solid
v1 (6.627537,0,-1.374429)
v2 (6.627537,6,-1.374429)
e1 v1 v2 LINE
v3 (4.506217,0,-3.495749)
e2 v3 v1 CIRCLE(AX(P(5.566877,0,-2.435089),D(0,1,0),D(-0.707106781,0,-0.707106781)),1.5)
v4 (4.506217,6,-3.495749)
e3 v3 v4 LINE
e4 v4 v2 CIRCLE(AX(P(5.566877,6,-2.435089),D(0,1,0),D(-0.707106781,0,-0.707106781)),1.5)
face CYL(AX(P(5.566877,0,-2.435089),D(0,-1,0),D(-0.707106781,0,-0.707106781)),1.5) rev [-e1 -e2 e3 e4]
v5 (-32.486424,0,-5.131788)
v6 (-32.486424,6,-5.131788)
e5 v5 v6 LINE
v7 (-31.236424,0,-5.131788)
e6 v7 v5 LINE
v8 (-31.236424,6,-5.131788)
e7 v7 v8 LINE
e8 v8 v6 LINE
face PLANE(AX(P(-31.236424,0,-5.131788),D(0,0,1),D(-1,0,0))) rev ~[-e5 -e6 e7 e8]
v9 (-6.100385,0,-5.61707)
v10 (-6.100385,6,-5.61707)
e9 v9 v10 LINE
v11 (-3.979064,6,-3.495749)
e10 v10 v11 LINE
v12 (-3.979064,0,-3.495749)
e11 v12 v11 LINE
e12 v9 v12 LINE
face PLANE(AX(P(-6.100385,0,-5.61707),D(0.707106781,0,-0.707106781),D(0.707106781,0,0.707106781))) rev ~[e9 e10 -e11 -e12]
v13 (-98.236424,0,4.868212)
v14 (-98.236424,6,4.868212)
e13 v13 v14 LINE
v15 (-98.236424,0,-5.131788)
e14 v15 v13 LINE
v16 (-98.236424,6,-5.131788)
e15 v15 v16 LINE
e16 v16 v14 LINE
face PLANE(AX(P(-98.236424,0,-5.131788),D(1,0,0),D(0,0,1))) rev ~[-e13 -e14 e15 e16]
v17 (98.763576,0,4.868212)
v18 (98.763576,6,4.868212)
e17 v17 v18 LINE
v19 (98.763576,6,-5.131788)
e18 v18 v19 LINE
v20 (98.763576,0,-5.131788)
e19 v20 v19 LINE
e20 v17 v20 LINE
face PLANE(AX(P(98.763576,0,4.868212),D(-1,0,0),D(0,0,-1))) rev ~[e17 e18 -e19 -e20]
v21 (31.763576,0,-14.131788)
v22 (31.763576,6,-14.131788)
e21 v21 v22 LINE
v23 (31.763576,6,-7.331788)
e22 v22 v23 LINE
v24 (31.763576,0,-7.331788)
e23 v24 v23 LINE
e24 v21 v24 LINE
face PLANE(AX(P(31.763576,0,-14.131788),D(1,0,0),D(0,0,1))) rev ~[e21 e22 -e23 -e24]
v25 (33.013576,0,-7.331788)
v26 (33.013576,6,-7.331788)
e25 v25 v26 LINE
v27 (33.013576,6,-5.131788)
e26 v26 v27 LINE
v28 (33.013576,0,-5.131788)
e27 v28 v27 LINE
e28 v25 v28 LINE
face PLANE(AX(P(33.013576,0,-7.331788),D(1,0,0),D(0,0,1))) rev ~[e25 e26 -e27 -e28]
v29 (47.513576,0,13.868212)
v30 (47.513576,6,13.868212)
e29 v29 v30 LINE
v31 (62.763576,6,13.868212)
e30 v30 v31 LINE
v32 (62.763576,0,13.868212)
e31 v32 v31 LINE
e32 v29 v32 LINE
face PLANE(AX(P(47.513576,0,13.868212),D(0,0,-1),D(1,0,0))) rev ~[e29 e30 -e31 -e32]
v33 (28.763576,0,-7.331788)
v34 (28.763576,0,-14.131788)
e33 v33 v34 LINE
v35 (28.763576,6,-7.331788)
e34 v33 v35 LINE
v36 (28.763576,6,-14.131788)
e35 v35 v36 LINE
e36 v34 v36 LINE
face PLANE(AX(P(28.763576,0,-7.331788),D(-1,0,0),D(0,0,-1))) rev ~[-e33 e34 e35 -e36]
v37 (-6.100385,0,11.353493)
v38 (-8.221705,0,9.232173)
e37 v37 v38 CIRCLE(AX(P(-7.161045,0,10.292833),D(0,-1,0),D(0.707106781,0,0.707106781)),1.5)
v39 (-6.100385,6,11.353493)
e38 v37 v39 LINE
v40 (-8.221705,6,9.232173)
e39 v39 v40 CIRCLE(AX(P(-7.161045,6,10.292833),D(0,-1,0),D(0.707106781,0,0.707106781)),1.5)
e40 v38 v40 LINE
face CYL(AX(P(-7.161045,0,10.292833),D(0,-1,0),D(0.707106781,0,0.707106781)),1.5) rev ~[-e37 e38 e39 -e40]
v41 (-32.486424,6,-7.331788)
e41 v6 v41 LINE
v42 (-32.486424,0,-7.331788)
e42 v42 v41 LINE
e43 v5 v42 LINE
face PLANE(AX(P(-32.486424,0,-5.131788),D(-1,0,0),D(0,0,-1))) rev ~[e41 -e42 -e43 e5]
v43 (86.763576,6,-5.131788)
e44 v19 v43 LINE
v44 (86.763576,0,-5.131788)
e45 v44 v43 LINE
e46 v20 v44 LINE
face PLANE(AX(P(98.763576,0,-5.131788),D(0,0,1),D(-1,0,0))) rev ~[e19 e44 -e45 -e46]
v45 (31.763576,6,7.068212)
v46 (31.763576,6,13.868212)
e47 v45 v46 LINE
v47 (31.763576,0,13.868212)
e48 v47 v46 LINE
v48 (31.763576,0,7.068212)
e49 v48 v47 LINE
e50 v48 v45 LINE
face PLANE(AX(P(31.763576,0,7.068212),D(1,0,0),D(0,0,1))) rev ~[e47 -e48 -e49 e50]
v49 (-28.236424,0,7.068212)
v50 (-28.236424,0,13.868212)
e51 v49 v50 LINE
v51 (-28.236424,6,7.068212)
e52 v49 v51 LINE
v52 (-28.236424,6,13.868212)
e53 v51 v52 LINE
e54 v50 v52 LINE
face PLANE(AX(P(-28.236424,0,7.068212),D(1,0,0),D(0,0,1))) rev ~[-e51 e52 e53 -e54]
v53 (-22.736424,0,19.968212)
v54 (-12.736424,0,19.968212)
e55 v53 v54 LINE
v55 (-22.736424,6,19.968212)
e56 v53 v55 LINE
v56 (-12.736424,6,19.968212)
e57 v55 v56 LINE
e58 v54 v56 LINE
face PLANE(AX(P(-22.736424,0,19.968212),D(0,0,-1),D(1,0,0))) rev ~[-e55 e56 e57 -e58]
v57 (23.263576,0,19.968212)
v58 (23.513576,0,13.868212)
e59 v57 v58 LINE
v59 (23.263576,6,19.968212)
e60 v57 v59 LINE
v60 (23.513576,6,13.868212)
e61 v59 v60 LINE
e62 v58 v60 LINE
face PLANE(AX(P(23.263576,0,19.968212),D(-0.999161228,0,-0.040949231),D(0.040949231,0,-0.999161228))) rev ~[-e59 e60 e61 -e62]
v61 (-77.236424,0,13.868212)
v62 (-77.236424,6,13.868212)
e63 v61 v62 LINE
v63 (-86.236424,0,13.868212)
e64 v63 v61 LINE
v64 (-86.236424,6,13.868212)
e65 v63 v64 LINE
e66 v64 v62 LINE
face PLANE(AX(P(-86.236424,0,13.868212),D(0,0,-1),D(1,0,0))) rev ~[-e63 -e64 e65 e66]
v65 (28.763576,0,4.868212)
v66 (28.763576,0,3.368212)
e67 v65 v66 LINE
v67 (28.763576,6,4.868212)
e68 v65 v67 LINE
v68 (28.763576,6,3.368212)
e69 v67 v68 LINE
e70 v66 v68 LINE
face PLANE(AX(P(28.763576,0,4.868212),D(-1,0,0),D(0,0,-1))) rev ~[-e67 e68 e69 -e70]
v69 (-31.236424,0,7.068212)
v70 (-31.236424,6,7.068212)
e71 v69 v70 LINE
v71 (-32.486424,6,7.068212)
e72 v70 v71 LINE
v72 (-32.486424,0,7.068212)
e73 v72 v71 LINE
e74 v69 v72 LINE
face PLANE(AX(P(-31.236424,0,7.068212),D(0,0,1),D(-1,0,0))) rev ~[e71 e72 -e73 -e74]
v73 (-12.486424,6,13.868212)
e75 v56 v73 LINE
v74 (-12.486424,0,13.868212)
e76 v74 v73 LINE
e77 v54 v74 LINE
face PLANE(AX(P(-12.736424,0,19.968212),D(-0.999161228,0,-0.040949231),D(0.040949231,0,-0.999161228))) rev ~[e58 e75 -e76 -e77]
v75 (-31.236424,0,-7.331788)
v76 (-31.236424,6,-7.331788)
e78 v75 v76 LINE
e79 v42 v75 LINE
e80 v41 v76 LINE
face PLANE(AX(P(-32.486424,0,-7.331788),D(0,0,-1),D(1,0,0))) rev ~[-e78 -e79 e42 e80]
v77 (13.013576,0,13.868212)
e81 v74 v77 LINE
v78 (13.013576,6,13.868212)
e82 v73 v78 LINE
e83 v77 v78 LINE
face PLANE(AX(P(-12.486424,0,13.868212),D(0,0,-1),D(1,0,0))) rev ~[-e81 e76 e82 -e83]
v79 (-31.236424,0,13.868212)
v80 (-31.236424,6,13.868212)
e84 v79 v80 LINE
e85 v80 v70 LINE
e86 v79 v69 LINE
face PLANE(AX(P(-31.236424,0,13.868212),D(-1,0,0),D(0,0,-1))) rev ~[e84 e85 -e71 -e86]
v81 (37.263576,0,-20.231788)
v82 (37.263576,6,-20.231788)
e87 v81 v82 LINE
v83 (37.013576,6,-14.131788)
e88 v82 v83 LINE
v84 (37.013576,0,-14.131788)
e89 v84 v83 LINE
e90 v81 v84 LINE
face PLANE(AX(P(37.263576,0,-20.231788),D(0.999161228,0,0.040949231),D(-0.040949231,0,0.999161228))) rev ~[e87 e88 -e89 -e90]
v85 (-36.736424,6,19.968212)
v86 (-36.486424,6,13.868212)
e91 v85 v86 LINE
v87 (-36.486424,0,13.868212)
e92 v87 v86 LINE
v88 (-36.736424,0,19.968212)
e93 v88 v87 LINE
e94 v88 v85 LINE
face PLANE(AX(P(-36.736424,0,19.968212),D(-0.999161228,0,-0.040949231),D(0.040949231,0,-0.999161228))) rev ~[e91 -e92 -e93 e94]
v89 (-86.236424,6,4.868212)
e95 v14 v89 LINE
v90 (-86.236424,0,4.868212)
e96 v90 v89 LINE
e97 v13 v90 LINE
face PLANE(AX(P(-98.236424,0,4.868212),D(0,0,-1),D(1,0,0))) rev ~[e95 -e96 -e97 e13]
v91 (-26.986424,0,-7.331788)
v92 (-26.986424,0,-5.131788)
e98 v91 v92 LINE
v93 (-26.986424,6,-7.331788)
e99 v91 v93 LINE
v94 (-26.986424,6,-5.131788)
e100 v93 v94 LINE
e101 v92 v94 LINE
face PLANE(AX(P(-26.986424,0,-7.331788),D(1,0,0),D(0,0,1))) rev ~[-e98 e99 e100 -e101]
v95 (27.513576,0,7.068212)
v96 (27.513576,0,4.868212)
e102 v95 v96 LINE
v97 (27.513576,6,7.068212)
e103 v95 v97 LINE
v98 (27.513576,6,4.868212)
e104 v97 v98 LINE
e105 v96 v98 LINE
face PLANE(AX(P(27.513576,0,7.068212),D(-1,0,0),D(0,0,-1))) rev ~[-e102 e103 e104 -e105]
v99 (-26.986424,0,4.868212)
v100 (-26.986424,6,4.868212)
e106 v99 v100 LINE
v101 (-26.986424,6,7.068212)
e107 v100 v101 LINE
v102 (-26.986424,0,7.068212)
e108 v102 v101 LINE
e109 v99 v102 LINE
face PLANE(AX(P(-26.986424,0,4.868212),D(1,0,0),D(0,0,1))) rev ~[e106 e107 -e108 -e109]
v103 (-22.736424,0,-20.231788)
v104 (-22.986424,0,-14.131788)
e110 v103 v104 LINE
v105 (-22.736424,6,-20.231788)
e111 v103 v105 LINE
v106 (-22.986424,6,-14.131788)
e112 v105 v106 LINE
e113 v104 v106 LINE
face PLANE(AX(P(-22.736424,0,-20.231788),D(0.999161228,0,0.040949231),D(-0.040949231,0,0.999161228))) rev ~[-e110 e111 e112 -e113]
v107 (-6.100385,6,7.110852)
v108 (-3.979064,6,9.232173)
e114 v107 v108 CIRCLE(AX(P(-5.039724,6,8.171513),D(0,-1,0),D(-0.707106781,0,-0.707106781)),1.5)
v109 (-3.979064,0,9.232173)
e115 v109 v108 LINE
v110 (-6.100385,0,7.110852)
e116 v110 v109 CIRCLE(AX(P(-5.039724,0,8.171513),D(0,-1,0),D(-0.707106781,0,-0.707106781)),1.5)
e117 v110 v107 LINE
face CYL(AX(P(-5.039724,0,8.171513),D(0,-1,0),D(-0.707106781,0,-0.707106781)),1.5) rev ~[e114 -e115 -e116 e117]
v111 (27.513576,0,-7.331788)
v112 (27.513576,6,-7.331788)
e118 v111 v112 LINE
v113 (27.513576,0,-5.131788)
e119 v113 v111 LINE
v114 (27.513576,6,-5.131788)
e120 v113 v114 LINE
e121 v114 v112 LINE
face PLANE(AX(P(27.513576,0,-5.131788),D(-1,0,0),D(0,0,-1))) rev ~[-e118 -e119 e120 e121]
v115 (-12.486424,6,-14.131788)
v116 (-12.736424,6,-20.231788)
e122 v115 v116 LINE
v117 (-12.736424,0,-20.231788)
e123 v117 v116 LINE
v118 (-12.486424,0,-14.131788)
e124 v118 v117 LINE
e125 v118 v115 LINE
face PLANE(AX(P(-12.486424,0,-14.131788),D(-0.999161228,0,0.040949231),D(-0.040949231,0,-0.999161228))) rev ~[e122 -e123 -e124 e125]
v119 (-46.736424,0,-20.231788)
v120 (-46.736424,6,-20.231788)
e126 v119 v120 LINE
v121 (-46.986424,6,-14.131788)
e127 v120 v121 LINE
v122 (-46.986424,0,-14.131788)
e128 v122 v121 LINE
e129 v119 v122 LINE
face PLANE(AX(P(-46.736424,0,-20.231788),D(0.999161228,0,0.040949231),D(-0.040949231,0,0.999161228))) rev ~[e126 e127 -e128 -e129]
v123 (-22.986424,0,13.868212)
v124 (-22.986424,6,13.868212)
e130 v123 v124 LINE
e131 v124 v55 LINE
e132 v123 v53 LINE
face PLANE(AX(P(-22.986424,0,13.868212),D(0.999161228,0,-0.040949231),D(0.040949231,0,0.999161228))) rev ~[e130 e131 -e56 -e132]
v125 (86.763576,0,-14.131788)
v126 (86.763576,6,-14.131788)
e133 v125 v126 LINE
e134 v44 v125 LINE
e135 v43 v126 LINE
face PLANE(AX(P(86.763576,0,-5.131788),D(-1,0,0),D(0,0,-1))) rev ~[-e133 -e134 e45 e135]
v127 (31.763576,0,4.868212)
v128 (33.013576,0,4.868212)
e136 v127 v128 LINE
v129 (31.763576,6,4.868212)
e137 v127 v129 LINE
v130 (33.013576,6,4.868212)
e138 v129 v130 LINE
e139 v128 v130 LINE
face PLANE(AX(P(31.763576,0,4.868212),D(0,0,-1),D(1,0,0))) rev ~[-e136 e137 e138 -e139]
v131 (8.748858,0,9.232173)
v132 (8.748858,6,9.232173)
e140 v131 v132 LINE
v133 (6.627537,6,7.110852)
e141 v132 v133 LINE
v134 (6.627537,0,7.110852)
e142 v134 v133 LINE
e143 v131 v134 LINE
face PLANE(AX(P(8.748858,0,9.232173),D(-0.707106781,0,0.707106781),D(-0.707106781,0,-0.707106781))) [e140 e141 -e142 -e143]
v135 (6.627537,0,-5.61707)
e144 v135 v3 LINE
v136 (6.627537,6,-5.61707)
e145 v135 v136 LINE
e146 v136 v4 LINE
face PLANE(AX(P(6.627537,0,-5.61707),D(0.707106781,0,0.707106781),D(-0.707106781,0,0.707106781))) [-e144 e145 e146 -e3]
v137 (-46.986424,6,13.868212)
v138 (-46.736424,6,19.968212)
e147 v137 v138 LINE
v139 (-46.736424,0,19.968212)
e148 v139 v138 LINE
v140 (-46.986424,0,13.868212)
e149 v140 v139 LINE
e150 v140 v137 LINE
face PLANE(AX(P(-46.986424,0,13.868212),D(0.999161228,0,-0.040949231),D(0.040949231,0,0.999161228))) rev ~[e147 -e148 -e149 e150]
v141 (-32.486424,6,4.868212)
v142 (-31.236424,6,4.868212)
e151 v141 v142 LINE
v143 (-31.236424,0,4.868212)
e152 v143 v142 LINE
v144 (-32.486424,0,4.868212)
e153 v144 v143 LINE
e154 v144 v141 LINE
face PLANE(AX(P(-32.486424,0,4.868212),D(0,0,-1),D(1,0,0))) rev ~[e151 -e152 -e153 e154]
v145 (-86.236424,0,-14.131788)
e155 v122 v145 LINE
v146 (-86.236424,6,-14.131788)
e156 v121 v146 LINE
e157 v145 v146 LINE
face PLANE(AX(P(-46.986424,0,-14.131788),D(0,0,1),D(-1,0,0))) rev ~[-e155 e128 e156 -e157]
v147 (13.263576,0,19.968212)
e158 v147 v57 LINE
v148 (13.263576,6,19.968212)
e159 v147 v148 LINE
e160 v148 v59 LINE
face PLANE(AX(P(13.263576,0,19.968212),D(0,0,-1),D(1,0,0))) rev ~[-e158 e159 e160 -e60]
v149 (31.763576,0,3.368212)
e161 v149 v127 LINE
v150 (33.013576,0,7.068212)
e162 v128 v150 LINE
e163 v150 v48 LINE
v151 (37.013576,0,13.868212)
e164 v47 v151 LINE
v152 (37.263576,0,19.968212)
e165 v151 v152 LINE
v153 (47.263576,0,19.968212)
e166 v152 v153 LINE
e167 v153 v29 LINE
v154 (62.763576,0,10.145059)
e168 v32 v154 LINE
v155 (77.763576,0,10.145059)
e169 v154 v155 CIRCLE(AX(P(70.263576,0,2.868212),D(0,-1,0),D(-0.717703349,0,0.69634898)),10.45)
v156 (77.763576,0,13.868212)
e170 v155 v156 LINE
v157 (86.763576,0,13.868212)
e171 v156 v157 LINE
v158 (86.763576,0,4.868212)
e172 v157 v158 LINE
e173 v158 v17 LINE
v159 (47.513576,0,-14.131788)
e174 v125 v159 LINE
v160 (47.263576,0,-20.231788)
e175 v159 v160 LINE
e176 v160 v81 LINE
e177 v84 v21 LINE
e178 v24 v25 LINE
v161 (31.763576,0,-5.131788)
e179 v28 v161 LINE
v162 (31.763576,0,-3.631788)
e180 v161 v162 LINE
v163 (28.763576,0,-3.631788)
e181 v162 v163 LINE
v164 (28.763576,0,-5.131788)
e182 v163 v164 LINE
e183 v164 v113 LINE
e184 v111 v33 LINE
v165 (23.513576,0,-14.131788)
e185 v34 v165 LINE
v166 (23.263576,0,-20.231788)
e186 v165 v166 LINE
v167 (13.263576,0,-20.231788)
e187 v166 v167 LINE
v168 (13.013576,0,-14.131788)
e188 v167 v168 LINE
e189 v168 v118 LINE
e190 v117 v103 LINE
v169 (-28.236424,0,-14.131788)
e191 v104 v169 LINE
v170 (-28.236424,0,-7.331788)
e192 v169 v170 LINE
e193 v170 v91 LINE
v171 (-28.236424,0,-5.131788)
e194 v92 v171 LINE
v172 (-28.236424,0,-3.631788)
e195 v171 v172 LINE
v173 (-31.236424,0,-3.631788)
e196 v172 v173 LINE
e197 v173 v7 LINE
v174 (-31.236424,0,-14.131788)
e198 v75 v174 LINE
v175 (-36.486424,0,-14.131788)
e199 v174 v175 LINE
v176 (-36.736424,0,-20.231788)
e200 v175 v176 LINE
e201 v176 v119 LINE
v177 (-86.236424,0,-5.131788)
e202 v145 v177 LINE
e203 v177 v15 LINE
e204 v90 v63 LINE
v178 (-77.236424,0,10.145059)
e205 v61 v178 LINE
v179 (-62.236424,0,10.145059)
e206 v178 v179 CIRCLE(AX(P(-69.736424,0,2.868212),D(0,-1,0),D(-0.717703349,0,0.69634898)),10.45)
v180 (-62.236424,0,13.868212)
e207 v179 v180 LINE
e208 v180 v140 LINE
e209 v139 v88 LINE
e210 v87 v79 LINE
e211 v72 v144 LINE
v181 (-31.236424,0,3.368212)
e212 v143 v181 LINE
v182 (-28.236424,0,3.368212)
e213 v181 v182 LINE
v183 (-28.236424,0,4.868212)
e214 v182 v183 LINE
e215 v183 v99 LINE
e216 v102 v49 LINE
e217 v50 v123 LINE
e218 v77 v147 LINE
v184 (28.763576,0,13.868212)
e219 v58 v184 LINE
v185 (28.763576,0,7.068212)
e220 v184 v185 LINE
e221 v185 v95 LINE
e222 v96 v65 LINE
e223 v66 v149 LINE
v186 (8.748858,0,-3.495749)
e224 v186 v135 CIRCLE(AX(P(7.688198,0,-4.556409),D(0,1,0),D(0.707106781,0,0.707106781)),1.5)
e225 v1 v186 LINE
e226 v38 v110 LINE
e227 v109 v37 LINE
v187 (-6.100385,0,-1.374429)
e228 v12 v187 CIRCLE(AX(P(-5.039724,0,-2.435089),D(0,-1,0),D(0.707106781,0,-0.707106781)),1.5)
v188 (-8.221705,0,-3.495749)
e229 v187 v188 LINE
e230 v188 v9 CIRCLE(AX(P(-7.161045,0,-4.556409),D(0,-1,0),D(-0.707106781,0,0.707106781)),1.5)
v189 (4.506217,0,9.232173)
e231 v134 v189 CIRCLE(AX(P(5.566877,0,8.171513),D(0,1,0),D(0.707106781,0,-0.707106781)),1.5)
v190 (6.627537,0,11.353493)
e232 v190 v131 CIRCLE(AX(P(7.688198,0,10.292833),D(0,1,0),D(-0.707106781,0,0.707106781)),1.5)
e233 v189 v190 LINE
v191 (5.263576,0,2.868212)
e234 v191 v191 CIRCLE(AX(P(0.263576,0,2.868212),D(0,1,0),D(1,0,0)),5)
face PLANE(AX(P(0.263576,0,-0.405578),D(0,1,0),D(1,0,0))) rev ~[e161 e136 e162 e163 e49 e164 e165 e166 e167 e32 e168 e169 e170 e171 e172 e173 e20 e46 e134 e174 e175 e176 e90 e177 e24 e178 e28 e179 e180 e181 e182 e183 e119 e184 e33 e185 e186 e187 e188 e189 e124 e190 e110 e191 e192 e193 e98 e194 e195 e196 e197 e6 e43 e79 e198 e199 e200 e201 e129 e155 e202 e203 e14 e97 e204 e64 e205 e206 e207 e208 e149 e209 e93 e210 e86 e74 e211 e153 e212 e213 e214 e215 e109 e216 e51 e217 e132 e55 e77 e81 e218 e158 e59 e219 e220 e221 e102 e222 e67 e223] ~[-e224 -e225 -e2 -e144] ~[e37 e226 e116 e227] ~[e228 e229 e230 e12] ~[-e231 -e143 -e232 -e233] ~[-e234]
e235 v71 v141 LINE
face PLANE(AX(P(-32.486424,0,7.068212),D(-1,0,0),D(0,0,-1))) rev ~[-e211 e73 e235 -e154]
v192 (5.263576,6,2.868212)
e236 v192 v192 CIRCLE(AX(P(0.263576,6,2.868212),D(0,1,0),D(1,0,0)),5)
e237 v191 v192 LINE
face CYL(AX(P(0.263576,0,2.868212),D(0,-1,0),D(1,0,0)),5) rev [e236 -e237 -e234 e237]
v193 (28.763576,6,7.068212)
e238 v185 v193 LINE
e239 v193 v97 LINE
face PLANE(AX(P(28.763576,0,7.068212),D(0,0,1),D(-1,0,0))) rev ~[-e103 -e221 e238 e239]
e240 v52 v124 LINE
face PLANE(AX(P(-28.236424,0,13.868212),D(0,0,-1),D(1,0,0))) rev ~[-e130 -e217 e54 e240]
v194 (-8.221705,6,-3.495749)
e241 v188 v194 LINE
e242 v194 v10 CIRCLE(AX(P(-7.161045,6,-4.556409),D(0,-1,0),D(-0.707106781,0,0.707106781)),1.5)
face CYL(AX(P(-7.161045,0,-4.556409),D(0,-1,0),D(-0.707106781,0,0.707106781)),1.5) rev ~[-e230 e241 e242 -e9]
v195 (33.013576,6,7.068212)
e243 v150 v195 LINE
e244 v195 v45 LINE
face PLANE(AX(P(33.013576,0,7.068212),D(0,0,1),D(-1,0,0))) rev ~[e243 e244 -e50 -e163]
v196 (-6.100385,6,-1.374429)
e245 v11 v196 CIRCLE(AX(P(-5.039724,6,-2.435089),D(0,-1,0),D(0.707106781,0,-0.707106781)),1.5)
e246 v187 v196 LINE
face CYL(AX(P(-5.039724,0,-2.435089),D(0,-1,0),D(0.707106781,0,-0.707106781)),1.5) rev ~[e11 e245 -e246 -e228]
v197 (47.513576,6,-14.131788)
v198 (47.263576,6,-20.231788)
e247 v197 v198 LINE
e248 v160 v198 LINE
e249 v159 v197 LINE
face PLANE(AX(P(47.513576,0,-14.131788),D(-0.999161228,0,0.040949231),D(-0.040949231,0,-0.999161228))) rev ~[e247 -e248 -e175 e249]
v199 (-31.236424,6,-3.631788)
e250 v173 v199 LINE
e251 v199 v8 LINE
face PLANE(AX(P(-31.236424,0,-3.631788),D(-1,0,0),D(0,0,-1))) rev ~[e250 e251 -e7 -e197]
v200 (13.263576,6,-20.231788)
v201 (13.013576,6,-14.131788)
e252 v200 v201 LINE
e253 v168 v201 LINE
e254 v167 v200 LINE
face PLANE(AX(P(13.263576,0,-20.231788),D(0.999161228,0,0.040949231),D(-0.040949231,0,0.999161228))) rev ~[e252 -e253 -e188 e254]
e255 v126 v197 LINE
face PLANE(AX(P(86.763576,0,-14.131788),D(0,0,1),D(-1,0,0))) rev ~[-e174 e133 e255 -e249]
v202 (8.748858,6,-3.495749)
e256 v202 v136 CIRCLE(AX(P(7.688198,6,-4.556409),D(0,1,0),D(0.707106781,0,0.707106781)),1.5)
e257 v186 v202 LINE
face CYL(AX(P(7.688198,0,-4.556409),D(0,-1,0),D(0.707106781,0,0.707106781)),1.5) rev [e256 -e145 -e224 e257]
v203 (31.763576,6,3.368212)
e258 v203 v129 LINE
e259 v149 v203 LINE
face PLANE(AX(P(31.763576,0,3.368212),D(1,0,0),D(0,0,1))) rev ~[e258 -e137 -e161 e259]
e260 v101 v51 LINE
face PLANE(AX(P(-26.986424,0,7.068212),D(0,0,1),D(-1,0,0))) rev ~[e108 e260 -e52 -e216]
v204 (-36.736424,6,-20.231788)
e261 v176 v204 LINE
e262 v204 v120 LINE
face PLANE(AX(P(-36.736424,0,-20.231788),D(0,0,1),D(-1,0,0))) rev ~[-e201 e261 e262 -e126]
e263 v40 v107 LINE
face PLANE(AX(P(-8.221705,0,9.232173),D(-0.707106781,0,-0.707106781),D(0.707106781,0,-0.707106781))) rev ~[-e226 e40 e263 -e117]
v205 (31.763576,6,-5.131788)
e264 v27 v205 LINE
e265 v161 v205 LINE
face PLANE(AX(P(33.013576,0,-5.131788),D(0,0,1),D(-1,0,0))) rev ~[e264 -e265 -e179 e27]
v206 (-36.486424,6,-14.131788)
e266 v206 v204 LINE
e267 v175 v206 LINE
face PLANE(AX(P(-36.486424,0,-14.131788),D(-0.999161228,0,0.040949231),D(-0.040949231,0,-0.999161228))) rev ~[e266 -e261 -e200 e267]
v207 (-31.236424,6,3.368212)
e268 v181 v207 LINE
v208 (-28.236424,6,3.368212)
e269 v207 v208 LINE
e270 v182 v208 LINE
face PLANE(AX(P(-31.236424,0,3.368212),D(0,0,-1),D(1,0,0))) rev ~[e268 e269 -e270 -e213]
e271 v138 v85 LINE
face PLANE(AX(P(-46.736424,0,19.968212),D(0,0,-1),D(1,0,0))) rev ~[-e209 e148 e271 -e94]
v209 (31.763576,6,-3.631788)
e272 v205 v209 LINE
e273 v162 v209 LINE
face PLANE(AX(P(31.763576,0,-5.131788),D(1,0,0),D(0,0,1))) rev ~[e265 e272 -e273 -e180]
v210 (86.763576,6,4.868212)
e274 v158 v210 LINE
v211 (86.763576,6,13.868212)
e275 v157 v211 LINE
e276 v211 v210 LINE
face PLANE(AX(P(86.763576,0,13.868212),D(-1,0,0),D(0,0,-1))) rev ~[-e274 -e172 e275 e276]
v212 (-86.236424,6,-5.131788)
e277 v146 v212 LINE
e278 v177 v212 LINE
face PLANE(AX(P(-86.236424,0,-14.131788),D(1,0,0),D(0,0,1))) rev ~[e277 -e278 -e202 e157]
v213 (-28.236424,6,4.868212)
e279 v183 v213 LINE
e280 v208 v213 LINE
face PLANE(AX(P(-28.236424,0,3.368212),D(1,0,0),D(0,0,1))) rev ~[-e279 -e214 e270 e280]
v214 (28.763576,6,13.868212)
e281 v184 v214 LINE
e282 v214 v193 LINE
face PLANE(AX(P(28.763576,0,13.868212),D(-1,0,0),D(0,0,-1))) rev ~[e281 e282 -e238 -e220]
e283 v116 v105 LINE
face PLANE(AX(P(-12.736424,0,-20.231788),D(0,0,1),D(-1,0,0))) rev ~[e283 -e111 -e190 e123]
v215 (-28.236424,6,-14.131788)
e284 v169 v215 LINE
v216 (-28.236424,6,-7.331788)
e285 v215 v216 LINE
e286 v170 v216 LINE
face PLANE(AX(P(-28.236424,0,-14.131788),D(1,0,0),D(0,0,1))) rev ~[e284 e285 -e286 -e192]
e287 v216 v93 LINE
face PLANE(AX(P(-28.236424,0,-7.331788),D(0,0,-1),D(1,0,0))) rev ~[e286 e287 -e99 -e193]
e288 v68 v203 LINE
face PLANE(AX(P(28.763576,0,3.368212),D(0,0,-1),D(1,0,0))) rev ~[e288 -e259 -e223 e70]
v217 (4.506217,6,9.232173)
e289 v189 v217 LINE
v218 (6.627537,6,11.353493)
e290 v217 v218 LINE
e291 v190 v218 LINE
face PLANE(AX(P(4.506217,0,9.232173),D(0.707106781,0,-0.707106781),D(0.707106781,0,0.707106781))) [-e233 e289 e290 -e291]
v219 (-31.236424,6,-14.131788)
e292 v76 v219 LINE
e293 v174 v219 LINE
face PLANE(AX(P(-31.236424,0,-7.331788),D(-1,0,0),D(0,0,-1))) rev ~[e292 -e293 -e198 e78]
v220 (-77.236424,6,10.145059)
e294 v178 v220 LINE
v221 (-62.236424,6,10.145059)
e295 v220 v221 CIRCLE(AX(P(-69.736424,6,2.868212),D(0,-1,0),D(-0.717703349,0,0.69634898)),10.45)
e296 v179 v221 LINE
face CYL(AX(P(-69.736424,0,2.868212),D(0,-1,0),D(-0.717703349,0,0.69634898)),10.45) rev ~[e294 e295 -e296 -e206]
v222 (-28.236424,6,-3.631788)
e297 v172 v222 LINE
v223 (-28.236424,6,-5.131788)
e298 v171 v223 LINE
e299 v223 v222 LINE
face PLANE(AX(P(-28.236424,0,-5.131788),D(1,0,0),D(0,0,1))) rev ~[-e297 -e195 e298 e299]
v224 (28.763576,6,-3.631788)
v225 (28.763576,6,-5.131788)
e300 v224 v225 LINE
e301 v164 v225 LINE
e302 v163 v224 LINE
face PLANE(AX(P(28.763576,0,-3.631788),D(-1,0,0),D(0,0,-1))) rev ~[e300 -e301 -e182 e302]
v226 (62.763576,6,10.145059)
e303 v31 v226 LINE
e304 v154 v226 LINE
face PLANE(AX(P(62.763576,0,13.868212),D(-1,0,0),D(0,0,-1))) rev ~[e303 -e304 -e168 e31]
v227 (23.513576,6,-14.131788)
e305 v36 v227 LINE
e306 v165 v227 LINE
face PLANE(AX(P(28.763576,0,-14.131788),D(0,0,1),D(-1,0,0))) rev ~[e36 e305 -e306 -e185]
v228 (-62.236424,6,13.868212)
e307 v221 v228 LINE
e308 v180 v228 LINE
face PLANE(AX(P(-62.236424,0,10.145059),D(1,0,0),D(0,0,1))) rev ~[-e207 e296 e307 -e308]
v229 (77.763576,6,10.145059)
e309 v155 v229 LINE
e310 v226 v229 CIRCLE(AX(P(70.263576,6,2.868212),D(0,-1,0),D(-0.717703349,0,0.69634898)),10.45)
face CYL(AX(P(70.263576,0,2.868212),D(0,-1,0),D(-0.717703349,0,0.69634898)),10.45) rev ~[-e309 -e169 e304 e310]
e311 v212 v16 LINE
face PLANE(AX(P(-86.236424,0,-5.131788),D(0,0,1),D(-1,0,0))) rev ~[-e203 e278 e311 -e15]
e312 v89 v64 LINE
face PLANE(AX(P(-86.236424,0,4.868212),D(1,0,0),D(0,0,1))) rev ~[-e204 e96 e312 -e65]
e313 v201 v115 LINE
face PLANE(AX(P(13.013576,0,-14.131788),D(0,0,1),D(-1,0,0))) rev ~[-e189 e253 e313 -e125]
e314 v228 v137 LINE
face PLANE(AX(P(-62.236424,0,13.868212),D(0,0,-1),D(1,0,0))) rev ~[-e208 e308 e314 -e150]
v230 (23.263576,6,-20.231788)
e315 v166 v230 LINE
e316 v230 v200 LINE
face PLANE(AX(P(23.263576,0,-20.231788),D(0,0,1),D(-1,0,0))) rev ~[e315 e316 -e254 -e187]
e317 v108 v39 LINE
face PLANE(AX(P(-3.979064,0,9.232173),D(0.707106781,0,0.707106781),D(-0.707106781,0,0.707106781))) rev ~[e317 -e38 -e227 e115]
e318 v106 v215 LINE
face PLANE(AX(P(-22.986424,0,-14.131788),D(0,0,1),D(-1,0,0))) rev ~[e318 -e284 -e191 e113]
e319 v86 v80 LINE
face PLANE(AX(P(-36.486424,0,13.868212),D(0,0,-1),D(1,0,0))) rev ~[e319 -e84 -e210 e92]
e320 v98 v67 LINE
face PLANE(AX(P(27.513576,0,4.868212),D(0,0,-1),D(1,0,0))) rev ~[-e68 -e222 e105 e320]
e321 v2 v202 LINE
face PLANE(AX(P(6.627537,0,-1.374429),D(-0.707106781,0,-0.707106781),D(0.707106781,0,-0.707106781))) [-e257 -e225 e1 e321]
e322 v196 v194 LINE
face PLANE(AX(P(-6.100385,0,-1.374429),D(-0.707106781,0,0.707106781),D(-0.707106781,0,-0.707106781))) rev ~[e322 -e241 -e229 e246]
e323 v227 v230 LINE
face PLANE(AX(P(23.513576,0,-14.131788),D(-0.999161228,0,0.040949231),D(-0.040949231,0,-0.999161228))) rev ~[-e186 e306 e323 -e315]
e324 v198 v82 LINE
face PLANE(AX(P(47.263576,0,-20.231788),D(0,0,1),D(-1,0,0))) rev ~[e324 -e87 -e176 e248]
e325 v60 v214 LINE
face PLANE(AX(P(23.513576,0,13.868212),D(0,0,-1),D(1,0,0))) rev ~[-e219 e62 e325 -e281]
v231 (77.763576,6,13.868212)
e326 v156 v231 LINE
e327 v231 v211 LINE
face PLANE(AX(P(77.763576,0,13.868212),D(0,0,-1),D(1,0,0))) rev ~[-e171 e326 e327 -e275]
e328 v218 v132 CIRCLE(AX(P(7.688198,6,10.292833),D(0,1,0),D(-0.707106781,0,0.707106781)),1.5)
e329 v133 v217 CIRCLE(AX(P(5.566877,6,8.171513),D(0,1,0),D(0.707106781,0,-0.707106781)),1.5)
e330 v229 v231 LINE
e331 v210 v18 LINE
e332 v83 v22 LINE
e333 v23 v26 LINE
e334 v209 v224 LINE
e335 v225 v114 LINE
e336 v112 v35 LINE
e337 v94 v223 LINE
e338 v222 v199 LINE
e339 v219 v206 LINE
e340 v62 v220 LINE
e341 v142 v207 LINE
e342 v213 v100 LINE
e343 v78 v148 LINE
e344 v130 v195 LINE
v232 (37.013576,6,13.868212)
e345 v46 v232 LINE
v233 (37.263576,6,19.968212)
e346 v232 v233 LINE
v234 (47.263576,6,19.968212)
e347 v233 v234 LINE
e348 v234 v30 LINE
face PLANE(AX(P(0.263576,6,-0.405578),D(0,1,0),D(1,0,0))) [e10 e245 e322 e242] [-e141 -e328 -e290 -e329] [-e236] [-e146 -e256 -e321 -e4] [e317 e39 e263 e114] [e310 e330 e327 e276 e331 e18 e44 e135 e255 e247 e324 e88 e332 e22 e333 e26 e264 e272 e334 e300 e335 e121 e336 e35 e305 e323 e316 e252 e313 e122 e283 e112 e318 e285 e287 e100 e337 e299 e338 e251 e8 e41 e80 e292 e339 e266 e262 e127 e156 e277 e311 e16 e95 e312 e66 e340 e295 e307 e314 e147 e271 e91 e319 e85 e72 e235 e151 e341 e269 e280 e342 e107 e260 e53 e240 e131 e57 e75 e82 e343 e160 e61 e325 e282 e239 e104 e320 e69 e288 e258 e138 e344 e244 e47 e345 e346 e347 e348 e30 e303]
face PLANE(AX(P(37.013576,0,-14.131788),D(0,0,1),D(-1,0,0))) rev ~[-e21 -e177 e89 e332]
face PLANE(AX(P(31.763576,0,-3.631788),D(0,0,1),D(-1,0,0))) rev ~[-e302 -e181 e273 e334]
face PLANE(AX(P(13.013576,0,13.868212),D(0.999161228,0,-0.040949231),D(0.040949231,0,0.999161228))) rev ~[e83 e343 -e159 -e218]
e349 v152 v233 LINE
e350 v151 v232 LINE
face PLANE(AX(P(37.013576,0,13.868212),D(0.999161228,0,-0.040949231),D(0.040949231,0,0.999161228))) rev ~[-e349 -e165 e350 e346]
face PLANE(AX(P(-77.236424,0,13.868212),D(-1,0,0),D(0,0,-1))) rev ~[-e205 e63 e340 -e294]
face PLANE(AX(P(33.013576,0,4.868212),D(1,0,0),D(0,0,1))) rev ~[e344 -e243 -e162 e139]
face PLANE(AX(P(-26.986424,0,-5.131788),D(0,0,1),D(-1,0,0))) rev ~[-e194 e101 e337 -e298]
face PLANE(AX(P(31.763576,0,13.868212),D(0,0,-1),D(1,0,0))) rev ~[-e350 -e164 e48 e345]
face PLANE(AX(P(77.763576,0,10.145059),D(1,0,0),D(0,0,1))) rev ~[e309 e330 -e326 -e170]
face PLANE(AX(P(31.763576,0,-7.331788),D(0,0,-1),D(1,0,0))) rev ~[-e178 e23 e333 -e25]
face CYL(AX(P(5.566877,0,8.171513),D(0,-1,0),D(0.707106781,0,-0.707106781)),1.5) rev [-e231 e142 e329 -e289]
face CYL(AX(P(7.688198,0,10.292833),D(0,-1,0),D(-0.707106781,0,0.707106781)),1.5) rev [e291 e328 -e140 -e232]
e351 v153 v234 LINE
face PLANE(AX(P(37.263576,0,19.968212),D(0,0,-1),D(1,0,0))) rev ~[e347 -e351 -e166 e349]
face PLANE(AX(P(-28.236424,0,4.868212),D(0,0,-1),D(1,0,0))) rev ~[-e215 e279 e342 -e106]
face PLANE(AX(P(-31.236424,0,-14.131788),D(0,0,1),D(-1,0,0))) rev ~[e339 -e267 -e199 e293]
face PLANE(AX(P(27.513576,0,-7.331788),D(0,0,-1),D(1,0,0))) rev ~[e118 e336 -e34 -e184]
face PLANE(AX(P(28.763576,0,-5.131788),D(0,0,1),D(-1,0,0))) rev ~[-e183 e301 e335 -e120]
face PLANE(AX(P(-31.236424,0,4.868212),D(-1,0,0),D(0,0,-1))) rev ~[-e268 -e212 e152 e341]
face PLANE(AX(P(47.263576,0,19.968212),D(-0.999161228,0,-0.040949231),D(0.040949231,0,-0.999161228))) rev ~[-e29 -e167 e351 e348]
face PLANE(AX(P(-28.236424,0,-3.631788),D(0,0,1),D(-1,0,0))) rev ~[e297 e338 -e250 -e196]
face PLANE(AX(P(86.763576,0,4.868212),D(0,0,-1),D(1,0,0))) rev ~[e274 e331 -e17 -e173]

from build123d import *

# Parameters (mm, degrees)
SKETCH_1_R      = 5
EXTRUDE_1_DEPTH = 6


with BuildPart() as part:
    # Эскиз1 → Бобышка-Вытянуть1 (new body)
    with BuildSketch(Plane(origin=(0, 0, 0), x_dir=(1, 0, 0), z_dir=(0, 1, 0))):
        with BuildLine():
            Line((86.763576424, -13.868211788), (86.763576424, -4.868211788))
            Line((86.763576424, -4.868211788), (98.763576424, -4.868211788))
            Line((98.763576424, -4.868211788), (98.763576424, 5.131788212))
            Line((98.763576424, 5.131788212), (86.763576424, 5.131788212))
            Line((86.763576424, 5.131788212), (86.763576424, 14.131788212))
            Line((86.763576424, 14.131788212), (47.513576424, 14.131788212))
            Line((47.513576424, 14.131788212), (47.263576424, 20.231788212))
            Line((47.263576424, 20.231788212), (37.263576424, 20.231788212))
            Line((37.263576424, 20.231788212), (37.013576424, 14.131788212))
            Line((37.013576424, 14.131788212), (31.763576424, 14.131788212))
            Line((31.763576424, 14.131788212), (31.763576424, 7.331788212))
            Line((31.763576424, 7.331788212), (33.013576424, 7.331788212))
            Line((33.013576424, 7.331788212), (33.013576424, 5.131788212))
            Line((33.013576424, 5.131788212), (31.763576424, 5.131788212))
            Line((31.763576424, 5.131788212), (31.763576424, 3.631788212))
            Line((31.763576424, 3.631788212), (28.763576424, 3.631788212))
            Line((28.763576424, 3.631788212), (28.763576424, 5.131788212))
            Line((28.763576424, 5.131788212), (27.513576424, 5.131788212))
            Line((27.513576424, 5.131788212), (27.513576424, 7.331788212))
            Line((27.513576424, 7.331788212), (28.763576424, 7.331788212))
            Line((28.763576424, 7.331788212), (28.763576424, 14.131788212))
            Line((28.763576424, 14.131788212), (23.513576424, 14.131788212))
            Line((23.513576424, 14.131788212), (23.263576424, 20.231788212))
            Line((23.263576424, 20.231788212), (13.263576424, 20.231788212))
            Line((13.263576424, 20.231788212), (13.013576424, 14.131788212))
            Line((13.013576424, 14.131788212), (-12.486423576, 14.131788212))
            Line((-12.486423576, 14.131788212), (-12.736423576, 20.231788212))
            Line((-12.736423576, 20.231788212), (-22.736423576, 20.231788212))
            Line((-22.736423576, 20.231788212), (-22.986423576, 14.131788212))
            Line((-22.986423576, 14.131788212), (-28.236423576, 14.131788212))
            Line((-28.236423576, 14.131788212), (-28.236423576, 7.331788212))
            Line((-28.236423576, 7.331788212), (-26.986423576, 7.331788212))
            Line((-26.986423576, 7.331788212), (-26.986423576, 5.131788212))
            Line((-26.986423576, 5.131788212), (-28.236423576, 5.131788212))
            Line((-28.236423576, 5.131788212), (-28.236423576, 3.631788212))
            Line((-28.236423576, 3.631788212), (-31.236423576, 3.631788212))
            Line((-31.236423576, 3.631788212), (-31.236423576, 5.131788212))
            Line((-31.236423576, 5.131788212), (-32.486423576, 5.131788212))
            Line((-32.486423576, 5.131788212), (-32.486423576, 7.331788212))
            Line((-32.486423576, 7.331788212), (-31.236423576, 7.331788212))
            Line((-31.236423576, 7.331788212), (-31.236423576, 14.131788212))
            Line((-31.236423576, 14.131788212), (-36.486423576, 14.131788212))
            Line((-36.486423576, 14.131788212), (-36.736423576, 20.231788212))
            Line((-36.736423576, 20.231788212), (-46.736423576, 20.231788212))
            Line((-46.736423576, 20.231788212), (-46.986423576, 14.131788212))
            Line((-46.986423576, 14.131788212), (-86.236423576, 14.131788212))
            Line((-86.236423576, 14.131788212), (-86.236423576, 5.131788212))
            Line((-86.236423576, 5.131788212), (-98.236423576, 5.131788212))
            Line((-98.236423576, 5.131788212), (-98.236423576, -4.868211788))
            Line((-98.236423576, -4.868211788), (-86.236423576, -4.868211788))
            Line((-86.236423576, -4.868211788), (-86.236423576, -13.868211788))
            Line((-86.236423576, -13.868211788), (-77.236423576, -13.868211788))
            Line((-77.236423576, -13.868211788), (-77.236423576, -10.145058633))
            ThreePointArc((-77.236423576, -10.145058633), (-69.736423576, 7.581788212), (-62.236423576, -10.145058633))
            Line((-62.236423576, -10.145058633), (-62.236423576, -13.868211788))
            Line((-62.236423576, -13.868211788), (-46.986423576, -13.868211788))
            Line((-46.986423576, -13.868211788), (-46.736423576, -19.968211788))
            Line((-46.736423576, -19.968211788), (-36.736423576, -19.968211788))
            Line((-36.736423576, -19.968211788), (-36.486423576, -13.868211788))
            Line((-36.486423576, -13.868211788), (-31.236423576, -13.868211788))
            Line((-31.236423576, -13.868211788), (-31.236423576, -7.068211788))
            Line((-31.236423576, -7.068211788), (-32.486423576, -7.068211788))
            Line((-32.486423576, -7.068211788), (-32.486423576, -4.868211788))
            Line((-32.486423576, -4.868211788), (-31.236423576, -4.868211788))
            Line((-31.236423576, -4.868211788), (-31.236423576, -3.368211788))
            Line((-31.236423576, -3.368211788), (-28.236423576, -3.368211788))
            Line((-28.236423576, -3.368211788), (-28.236423576, -4.868211788))
            Line((-28.236423576, -4.868211788), (-26.986423576, -4.868211788))
            Line((-26.986423576, -4.868211788), (-26.986423576, -7.068211788))
            Line((-26.986423576, -7.068211788), (-28.236423576, -7.068211788))
            Line((-28.236423576, -7.068211788), (-28.236423576, -13.868211788))
            Line((-28.236423576, -13.868211788), (-22.986423576, -13.868211788))
            Line((-22.986423576, -13.868211788), (-22.736423576, -19.968211788))
            Line((-22.736423576, -19.968211788), (-12.736423576, -19.968211788))
            Line((-12.736423576, -19.968211788), (-12.486423576, -13.868211788))
            Line((-12.486423576, -13.868211788), (13.013576424, -13.868211788))
            Line((13.013576424, -13.868211788), (13.263576424, -19.968211788))
            Line((13.263576424, -19.968211788), (23.263576424, -19.968211788))
            Line((23.263576424, -19.968211788), (23.513576424, -13.868211788))
            Line((23.513576424, -13.868211788), (28.763576424, -13.868211788))
            Line((28.763576424, -13.868211788), (28.763576424, -7.068211788))
            Line((28.763576424, -7.068211788), (27.513576424, -7.068211788))
            Line((27.513576424, -7.068211788), (27.513576424, -4.868211788))
            Line((27.513576424, -4.868211788), (28.763576424, -4.868211788))
            Line((28.763576424, -4.868211788), (28.763576424, -3.368211788))
            Line((28.763576424, -3.368211788), (31.763576424, -3.368211788))
            Line((31.763576424, -3.368211788), (31.763576424, -4.868211788))
            Line((31.763576424, -4.868211788), (33.013576424, -4.868211788))
            Line((33.013576424, -4.868211788), (33.013576424, -7.068211788))
            Line((33.013576424, -7.068211788), (31.763576424, -7.068211788))
            Line((31.763576424, -7.068211788), (31.763576424, -13.868211788))
            Line((31.763576424, -13.868211788), (37.013576424, -13.868211788))
            Line((37.013576424, -13.868211788), (37.263576424, -19.968211788))
            Line((37.263576424, -19.968211788), (47.263576424, -19.968211788))
            Line((47.263576424, -19.968211788), (47.513576424, -13.868211788))
            Line((47.513576424, -13.868211788), (62.763576424, -13.868211788))
            Line((62.763576424, -13.868211788), (62.763576424, -10.145058633))
            ThreePointArc((62.763576424, -10.145058633), (70.263576424, 7.581788212), (77.763576424, -10.145058633))
            Line((77.763576424, -10.145058633), (77.763576424, -13.868211788))
            Line((77.763576424, -13.868211788), (86.763576424, -13.868211788))
        make_face()
        with Locations((0.263576424, -2.868211788)):
            Circle(SKETCH_1_R, mode=Mode.SUBTRACT)
        with BuildLine():
            Line((-8.221704951, -9.232172819), (-6.100384607, -7.110852475))
            ThreePointArc((-6.100384607, -7.110852475), (-3.979064264, -7.110852475), (-3.979064264, -9.232172819))
            Line((-3.979064264, -9.232172819), (-6.100384607, -11.353493162))
            ThreePointArc((-6.100384607, -11.353493162), (-8.221704951, -11.353493162), (-8.221704951, -9.232172819))
        make_face(mode=Mode.SUBTRACT)
        with BuildLine():
            Line((-6.100384607, 5.617069586), (-3.979064264, 3.495749242))
            ThreePointArc((-3.979064264, 3.495749242), (-3.979064264, 1.374428899), (-6.100384607, 1.374428899))
            Line((-6.100384607, 1.374428899), (-8.221704951, 3.495749242))
            ThreePointArc((-8.221704951, 3.495749242), (-8.221704951, 5.617069586), (-6.100384607, 5.617069586))
        make_face(mode=Mode.SUBTRACT)
        with BuildLine():
            Line((8.748857798, -9.232172819), (6.627537454, -7.110852475))
            ThreePointArc((6.627537454, -7.110852475), (4.506217111, -7.110852475), (4.506217111, -9.232172819))
            Line((4.506217111, -9.232172819), (6.627537454, -11.353493162))
            ThreePointArc((6.627537454, -11.353493162), (8.748857798, -11.353493162), (8.748857798, -9.232172819))
        make_face(mode=Mode.SUBTRACT)
        with BuildLine():
            Line((6.627537454, 5.617069586), (4.506217111, 3.495749242))
            ThreePointArc((4.506217111, 3.495749242), (4.506217111, 1.374428899), (6.627537454, 1.374428899))
            Line((6.627537454, 1.374428899), (8.748857798, 3.495749243))
            ThreePointArc((8.748857798, 3.495749243), (8.748857798, 5.617069586), (6.627537454, 5.617069586))
        make_face(mode=Mode.SUBTRACT)
    extrude(amount=EXTRUDE_1_DEPTH)


solid = part.part
